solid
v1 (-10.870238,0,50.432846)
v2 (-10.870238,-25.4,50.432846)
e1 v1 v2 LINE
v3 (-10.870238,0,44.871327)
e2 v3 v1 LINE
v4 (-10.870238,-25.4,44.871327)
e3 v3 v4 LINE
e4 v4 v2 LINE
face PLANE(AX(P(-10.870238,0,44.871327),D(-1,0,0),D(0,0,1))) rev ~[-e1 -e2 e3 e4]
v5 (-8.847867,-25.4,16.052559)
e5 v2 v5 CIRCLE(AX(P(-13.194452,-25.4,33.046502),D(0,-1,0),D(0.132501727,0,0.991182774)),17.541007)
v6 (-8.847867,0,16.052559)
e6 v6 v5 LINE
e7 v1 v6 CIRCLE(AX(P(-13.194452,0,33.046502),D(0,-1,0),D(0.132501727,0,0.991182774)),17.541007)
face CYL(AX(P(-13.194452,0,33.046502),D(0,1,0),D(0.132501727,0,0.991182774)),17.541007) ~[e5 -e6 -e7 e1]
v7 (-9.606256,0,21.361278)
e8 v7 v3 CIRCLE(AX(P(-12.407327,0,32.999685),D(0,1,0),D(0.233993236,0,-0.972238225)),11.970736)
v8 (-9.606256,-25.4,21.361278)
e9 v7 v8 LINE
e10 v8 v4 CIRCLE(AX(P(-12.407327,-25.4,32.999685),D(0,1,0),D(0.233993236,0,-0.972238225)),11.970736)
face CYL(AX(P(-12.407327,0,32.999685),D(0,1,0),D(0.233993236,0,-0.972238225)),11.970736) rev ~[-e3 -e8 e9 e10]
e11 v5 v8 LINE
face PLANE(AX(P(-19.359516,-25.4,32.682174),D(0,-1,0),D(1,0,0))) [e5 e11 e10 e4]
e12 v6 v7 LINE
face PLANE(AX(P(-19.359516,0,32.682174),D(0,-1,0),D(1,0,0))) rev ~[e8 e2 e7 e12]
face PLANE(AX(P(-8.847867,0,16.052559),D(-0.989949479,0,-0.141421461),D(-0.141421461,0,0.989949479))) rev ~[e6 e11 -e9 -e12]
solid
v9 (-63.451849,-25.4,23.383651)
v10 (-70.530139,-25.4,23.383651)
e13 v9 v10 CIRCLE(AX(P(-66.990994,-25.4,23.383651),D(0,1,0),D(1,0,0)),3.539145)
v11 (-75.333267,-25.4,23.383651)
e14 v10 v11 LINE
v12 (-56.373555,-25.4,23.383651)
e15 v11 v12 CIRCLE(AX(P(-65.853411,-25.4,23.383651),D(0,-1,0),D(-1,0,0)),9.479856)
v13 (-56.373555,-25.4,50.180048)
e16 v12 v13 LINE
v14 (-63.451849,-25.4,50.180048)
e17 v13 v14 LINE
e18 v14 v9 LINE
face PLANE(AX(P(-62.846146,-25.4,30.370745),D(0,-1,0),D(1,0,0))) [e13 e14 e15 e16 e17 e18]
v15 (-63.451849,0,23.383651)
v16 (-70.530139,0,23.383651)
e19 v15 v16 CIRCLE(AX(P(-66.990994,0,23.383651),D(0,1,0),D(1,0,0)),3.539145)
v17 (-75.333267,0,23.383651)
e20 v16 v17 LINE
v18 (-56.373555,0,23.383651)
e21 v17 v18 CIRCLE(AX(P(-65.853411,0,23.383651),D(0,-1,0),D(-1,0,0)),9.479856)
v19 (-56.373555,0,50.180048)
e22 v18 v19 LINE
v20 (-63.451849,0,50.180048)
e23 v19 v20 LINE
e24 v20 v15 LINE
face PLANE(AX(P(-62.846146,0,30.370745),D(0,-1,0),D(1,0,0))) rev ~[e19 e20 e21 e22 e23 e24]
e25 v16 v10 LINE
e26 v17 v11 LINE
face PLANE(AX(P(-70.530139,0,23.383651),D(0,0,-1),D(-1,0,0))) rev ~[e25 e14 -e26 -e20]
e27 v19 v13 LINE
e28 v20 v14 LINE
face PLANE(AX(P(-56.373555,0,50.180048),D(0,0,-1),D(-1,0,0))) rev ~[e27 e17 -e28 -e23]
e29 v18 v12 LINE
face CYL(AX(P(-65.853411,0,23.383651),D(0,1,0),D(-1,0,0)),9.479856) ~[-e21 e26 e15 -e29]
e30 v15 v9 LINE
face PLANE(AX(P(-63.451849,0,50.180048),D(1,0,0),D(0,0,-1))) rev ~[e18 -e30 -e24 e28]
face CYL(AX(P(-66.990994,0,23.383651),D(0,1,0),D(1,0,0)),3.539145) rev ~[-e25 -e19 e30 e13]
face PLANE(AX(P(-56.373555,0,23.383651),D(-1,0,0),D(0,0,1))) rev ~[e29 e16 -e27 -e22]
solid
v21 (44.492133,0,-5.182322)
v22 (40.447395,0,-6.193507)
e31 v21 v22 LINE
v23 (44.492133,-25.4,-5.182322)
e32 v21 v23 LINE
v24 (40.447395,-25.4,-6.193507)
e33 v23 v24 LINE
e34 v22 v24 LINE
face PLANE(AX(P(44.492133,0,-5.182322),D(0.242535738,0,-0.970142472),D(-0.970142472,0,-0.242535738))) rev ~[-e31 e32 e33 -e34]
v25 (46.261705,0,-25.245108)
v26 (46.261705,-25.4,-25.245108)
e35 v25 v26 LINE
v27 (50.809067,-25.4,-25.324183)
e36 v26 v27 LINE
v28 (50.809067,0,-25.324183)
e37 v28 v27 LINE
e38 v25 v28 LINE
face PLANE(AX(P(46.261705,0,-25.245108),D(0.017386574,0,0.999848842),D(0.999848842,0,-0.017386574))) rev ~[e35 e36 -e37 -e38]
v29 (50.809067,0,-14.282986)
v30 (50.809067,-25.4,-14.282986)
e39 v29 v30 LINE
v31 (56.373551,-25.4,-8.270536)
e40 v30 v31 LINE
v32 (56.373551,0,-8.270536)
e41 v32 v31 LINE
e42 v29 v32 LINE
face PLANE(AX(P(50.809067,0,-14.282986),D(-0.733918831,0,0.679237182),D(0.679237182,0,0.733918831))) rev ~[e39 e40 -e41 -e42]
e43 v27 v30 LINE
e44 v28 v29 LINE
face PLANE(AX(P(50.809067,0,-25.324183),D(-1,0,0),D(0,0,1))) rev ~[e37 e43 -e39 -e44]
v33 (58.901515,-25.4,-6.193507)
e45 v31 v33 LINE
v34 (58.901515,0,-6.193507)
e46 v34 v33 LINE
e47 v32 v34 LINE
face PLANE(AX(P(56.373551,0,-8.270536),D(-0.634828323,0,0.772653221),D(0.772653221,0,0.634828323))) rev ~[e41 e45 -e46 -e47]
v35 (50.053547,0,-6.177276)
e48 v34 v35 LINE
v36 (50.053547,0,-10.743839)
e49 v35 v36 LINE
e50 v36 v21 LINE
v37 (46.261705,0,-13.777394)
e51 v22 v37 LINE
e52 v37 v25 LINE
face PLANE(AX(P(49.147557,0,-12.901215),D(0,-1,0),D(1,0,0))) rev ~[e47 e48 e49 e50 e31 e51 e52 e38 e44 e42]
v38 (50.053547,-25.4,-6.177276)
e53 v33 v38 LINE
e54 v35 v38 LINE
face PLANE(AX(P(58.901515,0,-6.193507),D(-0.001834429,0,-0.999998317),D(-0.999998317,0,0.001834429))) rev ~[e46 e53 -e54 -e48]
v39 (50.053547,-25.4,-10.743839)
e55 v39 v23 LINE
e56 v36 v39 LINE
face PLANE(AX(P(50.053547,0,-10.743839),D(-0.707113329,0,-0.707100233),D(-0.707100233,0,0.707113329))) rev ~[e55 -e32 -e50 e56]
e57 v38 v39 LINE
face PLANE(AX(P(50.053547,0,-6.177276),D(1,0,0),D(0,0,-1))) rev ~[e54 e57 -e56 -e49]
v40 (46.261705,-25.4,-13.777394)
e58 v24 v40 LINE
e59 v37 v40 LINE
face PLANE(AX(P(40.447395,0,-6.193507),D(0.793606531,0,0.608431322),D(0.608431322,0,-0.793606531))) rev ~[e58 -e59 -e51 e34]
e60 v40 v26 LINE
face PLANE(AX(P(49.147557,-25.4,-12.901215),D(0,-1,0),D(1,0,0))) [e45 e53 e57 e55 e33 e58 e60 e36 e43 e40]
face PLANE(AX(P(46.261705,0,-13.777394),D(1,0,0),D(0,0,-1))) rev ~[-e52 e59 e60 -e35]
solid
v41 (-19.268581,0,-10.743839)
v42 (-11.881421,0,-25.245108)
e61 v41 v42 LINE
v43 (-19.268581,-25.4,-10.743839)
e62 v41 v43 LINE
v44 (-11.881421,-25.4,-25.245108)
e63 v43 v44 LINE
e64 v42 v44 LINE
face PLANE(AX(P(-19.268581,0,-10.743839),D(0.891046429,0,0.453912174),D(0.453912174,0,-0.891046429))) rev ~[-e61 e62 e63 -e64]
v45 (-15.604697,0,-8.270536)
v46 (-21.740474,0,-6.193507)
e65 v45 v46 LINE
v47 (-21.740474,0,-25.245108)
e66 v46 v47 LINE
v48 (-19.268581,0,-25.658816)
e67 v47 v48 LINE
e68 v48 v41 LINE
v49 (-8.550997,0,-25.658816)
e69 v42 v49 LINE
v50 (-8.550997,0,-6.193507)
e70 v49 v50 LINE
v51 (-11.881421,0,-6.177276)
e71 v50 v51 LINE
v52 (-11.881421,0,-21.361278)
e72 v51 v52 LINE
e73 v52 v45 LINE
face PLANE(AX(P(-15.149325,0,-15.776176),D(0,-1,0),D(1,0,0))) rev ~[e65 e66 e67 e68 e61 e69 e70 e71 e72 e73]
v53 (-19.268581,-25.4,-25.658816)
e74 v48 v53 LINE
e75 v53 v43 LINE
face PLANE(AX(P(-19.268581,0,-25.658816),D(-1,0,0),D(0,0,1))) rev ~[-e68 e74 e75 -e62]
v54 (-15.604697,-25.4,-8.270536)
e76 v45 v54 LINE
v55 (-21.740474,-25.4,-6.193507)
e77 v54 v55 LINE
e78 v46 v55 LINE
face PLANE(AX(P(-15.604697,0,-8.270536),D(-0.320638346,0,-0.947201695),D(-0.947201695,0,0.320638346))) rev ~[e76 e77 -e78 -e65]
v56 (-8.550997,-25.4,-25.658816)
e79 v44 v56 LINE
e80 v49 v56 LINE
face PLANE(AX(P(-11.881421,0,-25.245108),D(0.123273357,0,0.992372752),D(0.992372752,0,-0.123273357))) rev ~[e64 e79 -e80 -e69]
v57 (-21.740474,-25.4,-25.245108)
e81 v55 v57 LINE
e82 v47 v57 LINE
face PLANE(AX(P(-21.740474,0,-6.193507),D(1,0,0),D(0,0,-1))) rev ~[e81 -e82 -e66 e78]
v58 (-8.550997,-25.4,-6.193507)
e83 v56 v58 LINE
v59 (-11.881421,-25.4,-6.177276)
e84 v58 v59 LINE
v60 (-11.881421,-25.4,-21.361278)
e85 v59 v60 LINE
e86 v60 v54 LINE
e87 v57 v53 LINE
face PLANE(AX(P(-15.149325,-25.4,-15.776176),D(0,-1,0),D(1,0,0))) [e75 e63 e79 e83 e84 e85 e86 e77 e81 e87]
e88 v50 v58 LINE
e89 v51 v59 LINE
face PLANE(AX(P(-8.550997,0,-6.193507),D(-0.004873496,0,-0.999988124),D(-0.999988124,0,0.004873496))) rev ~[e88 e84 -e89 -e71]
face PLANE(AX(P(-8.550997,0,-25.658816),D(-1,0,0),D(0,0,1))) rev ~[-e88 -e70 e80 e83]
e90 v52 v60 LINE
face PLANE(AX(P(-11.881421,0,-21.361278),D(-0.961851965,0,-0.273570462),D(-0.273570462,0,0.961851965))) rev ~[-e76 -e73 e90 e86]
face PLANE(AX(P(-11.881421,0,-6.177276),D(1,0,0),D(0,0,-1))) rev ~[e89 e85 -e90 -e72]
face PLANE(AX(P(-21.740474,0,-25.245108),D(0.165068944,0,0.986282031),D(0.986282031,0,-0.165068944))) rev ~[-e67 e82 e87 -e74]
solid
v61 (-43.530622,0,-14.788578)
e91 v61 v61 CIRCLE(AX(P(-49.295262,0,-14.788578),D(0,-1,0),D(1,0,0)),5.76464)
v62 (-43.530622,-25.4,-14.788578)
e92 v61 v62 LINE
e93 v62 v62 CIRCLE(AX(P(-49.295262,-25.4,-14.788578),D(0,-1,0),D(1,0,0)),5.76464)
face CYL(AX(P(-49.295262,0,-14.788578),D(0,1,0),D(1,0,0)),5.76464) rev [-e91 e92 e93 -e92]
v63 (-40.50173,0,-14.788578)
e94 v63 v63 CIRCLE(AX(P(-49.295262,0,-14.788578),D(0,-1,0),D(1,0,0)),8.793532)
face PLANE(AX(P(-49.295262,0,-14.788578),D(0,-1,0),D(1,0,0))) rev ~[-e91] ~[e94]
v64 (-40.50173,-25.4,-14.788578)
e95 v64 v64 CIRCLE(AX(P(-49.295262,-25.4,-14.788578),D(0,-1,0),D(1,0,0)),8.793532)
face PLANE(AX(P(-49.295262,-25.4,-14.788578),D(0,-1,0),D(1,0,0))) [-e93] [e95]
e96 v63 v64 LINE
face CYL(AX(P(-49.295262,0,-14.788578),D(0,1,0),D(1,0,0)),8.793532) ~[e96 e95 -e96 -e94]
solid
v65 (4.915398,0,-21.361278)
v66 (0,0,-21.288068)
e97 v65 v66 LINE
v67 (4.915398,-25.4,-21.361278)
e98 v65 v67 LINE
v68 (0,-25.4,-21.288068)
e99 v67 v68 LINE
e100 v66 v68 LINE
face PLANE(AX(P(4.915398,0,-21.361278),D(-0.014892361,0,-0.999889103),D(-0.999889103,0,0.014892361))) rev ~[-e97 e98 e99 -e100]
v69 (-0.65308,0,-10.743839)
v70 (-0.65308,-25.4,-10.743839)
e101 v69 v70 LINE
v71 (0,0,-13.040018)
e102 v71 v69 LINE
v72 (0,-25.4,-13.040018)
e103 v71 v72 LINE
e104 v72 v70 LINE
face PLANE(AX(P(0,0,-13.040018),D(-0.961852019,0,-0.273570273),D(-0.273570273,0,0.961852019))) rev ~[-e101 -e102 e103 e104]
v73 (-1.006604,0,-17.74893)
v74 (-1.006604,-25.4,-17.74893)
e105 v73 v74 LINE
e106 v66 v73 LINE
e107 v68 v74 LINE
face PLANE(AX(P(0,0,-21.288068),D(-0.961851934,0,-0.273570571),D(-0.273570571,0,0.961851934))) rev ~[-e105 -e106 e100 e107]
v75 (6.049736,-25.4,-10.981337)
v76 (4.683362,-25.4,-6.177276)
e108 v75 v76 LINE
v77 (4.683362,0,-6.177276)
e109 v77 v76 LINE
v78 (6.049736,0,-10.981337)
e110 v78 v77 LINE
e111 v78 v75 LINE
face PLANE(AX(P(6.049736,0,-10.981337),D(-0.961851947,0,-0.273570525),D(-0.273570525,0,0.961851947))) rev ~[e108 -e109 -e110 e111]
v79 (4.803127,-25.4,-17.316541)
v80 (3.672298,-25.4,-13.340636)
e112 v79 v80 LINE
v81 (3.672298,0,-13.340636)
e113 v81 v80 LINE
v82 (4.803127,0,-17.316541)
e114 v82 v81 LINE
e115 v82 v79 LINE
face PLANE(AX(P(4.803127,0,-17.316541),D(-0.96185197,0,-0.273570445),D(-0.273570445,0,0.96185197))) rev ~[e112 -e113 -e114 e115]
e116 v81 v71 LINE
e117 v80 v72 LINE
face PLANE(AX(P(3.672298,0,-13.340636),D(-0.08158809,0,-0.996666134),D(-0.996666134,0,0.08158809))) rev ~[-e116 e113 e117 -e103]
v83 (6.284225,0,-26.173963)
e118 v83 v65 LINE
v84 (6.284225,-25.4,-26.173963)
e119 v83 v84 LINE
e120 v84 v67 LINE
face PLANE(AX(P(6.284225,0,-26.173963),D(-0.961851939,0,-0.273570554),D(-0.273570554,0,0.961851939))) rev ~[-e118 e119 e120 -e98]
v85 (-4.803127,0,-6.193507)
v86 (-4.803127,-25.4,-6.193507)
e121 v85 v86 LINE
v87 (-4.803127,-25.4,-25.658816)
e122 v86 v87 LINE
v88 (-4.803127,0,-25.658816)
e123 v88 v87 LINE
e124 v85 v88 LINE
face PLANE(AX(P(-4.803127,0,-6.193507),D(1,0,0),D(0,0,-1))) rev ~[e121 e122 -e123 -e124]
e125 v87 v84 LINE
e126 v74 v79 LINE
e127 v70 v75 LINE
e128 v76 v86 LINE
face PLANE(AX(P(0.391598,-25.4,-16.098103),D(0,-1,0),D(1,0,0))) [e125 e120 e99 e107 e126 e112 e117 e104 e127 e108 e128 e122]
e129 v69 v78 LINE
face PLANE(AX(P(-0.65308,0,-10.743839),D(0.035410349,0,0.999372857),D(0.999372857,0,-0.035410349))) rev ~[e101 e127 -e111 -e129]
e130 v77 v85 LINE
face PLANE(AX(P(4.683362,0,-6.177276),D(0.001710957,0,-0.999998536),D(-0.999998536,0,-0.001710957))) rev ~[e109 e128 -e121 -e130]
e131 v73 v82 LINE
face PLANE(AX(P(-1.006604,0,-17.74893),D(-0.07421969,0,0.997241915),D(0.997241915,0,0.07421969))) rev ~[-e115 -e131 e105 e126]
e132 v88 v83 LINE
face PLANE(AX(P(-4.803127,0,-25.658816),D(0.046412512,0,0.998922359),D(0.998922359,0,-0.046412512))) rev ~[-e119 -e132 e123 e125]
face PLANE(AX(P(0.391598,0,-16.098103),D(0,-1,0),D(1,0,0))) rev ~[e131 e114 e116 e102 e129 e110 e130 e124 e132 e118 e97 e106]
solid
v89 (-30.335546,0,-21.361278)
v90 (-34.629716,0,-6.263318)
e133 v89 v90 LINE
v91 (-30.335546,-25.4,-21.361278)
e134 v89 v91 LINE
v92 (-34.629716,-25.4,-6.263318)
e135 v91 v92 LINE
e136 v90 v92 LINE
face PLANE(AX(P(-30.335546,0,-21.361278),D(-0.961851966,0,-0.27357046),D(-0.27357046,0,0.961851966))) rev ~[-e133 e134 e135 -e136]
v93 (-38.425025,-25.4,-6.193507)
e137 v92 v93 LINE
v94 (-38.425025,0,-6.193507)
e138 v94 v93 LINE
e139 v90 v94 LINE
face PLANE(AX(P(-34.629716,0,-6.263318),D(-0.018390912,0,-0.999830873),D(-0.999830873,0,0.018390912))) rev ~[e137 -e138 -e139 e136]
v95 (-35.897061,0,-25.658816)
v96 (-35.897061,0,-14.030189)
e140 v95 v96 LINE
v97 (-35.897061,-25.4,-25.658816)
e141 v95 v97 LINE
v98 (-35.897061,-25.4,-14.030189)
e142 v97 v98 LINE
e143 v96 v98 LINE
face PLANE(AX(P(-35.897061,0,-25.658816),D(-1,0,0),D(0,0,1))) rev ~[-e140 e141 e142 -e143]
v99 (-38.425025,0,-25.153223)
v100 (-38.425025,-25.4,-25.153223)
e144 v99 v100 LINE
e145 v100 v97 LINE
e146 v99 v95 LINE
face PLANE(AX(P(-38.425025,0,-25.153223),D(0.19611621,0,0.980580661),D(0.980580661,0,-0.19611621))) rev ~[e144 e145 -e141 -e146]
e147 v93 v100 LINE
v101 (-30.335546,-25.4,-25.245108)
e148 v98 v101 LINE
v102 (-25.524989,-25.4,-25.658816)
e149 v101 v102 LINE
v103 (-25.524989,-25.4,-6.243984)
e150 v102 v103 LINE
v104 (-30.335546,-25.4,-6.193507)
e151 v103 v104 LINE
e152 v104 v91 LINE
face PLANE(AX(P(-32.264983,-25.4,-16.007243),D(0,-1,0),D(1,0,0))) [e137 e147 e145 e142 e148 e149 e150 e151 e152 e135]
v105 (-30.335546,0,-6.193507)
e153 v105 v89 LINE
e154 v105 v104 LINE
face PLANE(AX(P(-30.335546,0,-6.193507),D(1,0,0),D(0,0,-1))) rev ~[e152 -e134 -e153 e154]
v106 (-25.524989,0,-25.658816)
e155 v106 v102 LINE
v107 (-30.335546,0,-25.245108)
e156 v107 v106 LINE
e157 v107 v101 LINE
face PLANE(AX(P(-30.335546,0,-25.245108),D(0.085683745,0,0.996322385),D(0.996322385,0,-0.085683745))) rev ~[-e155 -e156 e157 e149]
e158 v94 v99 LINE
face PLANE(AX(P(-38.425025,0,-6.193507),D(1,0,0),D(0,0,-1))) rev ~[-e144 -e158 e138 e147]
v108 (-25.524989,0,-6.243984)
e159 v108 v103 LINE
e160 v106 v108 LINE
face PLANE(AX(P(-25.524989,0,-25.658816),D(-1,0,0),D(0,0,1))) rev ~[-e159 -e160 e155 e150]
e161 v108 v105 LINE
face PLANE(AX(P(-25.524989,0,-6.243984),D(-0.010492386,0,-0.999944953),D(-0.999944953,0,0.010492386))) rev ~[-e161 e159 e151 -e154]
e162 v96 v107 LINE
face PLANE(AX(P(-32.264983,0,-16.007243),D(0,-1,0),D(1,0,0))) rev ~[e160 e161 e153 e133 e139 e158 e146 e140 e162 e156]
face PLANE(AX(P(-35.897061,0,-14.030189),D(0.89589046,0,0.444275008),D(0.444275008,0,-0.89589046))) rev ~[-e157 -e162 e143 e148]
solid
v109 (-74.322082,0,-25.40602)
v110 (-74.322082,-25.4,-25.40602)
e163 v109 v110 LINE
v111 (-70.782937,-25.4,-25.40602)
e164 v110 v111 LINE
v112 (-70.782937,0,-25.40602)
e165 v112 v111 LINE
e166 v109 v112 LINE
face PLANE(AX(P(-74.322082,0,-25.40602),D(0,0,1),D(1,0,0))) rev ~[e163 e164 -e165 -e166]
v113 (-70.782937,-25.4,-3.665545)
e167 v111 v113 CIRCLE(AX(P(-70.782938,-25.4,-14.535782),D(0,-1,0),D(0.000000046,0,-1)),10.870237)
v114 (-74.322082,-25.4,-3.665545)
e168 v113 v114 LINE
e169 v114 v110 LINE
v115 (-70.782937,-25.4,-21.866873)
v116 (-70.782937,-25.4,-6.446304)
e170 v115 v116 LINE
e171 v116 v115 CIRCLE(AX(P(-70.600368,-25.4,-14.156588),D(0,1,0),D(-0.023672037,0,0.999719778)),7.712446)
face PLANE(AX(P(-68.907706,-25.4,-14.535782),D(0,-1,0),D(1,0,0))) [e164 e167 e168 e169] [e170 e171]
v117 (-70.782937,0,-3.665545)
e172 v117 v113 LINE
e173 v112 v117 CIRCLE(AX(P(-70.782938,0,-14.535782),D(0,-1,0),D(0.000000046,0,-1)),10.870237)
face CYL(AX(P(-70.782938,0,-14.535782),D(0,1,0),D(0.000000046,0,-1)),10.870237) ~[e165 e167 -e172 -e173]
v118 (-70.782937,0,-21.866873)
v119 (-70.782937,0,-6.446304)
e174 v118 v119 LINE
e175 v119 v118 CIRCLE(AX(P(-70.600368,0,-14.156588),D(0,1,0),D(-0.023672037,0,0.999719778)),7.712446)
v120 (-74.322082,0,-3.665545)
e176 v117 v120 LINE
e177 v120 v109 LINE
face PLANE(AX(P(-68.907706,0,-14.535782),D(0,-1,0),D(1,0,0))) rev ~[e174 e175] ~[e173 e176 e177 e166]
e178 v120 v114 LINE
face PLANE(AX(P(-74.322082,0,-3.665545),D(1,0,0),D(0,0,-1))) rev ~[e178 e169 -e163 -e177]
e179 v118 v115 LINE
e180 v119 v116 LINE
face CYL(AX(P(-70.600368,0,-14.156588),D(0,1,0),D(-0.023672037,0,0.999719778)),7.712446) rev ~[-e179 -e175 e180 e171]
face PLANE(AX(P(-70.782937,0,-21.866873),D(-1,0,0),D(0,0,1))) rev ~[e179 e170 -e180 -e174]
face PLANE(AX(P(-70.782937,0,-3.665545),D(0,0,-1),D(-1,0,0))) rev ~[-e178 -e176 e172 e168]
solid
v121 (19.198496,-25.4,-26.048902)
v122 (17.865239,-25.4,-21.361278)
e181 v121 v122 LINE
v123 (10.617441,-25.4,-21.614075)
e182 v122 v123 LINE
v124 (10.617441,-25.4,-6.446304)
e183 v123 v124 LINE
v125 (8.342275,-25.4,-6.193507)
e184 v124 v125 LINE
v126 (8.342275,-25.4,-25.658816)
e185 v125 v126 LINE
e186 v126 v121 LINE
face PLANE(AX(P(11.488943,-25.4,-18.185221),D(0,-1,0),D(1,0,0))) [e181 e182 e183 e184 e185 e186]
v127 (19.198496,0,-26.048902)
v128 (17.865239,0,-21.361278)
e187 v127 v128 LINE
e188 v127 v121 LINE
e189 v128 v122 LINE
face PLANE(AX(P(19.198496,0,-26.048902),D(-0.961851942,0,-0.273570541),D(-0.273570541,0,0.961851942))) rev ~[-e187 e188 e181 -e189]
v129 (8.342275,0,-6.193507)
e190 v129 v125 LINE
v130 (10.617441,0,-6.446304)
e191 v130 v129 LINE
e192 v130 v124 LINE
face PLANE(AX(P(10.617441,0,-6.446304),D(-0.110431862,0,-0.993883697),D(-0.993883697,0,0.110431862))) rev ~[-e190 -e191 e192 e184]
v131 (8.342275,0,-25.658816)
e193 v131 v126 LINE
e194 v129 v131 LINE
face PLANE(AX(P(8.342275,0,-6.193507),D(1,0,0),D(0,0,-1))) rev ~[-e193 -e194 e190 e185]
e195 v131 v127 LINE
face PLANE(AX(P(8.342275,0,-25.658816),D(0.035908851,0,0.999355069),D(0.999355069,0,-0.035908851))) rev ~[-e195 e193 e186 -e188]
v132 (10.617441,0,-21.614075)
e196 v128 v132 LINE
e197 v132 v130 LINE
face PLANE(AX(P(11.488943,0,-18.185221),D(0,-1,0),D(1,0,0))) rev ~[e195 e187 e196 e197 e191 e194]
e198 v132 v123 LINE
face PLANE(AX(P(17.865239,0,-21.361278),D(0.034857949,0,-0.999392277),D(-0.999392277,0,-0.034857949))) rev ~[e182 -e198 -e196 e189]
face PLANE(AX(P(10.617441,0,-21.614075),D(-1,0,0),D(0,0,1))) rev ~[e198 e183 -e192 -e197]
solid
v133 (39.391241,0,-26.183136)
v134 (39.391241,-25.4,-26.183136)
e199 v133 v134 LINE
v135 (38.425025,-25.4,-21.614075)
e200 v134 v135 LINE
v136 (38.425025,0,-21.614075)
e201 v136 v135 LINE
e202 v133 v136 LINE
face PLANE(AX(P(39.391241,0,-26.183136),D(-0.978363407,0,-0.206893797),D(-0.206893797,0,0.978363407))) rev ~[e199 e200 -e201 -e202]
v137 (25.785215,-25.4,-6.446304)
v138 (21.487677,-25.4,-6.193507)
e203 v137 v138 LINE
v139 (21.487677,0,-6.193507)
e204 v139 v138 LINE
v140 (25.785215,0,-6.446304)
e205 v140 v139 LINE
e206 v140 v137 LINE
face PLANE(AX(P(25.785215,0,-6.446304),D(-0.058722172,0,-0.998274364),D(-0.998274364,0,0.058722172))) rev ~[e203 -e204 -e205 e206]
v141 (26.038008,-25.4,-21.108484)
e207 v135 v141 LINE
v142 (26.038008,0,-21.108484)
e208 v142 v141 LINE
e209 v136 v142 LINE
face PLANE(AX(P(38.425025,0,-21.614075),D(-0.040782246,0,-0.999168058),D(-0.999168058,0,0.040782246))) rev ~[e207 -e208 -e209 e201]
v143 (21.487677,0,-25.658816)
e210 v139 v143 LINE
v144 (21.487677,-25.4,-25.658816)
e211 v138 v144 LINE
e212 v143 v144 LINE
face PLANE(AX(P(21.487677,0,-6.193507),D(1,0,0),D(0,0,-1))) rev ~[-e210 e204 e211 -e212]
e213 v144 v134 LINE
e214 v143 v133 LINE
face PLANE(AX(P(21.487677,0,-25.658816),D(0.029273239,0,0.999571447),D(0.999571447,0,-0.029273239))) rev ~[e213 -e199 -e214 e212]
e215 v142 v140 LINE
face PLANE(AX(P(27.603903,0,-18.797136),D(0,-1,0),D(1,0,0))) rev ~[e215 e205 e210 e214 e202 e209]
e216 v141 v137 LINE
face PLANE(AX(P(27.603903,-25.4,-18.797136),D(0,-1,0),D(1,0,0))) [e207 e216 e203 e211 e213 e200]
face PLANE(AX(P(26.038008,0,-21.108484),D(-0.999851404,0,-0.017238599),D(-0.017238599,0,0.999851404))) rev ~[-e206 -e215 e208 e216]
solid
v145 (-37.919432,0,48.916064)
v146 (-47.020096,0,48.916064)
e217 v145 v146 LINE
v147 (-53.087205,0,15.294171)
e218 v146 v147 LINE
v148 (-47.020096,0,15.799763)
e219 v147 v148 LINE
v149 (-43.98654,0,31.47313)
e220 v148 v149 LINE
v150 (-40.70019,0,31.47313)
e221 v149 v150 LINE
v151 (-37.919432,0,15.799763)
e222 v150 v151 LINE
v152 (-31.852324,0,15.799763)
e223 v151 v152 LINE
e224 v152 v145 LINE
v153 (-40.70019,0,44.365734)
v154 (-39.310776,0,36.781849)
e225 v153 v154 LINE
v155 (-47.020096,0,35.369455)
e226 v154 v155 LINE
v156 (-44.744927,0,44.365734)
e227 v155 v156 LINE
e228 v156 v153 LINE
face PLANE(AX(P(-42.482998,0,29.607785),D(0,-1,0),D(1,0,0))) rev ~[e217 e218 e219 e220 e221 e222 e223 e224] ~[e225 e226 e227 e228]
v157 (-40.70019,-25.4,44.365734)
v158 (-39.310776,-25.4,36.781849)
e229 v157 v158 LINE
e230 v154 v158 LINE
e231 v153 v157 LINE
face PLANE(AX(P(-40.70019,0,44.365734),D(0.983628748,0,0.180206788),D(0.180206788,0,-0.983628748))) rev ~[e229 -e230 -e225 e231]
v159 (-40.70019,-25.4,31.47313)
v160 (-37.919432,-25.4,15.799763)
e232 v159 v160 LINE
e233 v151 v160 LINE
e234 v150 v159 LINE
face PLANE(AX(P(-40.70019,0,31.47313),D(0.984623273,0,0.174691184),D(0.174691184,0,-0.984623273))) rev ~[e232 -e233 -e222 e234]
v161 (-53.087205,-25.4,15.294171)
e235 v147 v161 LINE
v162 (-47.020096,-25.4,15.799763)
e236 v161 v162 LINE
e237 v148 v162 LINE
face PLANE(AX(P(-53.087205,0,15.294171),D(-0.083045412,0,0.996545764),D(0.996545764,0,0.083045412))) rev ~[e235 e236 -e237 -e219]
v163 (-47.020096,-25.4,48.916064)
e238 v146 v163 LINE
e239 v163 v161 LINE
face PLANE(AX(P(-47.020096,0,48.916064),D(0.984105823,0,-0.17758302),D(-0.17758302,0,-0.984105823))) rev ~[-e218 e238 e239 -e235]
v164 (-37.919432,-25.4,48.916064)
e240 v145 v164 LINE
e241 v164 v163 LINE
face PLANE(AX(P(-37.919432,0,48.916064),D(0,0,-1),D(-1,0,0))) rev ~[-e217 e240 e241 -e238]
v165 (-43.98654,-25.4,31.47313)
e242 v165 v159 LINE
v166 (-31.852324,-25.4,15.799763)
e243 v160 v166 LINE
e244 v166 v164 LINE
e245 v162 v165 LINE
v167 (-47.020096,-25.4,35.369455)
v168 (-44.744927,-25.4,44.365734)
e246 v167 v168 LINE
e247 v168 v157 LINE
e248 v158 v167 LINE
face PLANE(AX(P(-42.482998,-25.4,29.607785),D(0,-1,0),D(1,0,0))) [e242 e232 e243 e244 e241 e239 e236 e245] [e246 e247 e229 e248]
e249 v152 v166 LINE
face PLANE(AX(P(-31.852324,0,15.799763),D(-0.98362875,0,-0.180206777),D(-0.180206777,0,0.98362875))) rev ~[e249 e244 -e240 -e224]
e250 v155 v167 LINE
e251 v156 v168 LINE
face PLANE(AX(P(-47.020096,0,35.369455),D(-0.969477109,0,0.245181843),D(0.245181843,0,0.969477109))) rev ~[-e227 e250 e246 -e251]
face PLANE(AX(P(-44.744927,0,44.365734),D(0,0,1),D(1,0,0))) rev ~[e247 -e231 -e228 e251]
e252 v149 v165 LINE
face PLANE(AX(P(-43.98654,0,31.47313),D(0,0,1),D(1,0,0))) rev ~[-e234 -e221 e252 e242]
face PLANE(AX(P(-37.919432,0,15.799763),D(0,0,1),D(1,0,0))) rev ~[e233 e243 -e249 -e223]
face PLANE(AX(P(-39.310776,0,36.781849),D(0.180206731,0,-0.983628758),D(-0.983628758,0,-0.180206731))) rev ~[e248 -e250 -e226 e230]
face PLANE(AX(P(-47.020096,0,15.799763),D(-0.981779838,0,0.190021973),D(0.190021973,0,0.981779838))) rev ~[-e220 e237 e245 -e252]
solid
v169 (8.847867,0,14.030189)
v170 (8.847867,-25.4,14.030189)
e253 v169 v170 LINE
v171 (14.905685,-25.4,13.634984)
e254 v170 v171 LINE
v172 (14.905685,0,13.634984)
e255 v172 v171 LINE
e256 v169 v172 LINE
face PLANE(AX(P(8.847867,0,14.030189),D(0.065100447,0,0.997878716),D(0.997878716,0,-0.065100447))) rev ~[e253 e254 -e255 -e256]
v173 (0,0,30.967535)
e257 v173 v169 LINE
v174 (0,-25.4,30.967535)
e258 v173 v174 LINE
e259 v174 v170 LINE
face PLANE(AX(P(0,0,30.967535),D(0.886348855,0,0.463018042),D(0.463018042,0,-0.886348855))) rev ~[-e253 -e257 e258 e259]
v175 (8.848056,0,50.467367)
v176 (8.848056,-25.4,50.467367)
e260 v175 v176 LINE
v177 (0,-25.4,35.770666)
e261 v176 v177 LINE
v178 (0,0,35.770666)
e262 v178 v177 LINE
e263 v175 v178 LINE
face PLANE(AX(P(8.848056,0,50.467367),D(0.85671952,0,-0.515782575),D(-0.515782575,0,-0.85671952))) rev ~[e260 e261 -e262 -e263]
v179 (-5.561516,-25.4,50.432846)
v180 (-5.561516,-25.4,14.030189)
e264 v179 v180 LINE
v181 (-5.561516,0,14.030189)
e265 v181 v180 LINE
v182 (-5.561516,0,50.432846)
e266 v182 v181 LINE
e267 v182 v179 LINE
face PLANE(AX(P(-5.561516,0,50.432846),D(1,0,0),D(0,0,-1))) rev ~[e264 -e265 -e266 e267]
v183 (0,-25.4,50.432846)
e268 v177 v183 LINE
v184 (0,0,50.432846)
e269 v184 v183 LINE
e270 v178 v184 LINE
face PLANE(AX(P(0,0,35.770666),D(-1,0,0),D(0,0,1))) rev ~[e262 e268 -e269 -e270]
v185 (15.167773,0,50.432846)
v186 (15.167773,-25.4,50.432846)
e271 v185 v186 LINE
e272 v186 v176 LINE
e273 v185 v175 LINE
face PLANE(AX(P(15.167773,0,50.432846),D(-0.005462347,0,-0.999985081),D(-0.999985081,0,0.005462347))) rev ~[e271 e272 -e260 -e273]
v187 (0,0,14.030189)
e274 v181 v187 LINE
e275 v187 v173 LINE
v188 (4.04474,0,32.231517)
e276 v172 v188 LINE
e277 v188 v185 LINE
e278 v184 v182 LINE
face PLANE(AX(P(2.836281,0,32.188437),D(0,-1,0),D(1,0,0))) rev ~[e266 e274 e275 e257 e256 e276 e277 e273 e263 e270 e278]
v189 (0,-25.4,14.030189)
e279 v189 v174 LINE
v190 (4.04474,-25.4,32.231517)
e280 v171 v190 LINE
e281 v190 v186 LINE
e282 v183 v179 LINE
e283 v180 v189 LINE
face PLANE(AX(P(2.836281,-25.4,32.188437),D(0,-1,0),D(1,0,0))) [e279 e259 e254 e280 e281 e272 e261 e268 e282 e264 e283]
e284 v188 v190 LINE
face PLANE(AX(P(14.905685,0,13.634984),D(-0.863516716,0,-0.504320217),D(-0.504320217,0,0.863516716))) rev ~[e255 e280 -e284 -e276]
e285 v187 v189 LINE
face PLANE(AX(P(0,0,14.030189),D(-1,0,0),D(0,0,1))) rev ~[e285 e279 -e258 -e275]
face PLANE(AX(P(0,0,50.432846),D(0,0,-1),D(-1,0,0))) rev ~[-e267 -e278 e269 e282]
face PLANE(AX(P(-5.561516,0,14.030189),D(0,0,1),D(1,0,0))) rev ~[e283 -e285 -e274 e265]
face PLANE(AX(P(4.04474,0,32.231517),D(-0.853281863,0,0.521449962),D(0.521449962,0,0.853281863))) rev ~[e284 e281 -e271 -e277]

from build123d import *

# Parameters (mm, degrees)
F0_R     = 8.793532
F0_R_2   = 5.76464
F1_DEPTH = 25.4


with BuildPart() as f1:
    # F0 (on Front) → F1 (new body)
    with BuildSketch(Plane.XZ):
        with BuildLine():
            Line((-56.373555, 50.180048), (-63.451849, 50.180048))
            Line((-63.451849, 50.180048), (-63.451849, 23.383651))
            ThreePointArc((-63.451849, 23.383651), (-66.990994, 19.844506), (-70.530139, 23.383651))
            Line((-70.530139, 23.383651), (-75.333267, 23.383651))
            ThreePointArc((-75.333267, 23.383651), (-65.853411, 13.903795), (-56.373555, 23.383651))
            Line((-56.373555, 23.383651), (-56.373555, 50.180048))
        make_face()
        Polygon((-47.020096, 48.916064), (-53.087205, 15.294171), (-47.020096, 15.799763), (-43.98654, 31.47313), (-40.70019, 31.47313), (-37.919432, 15.799763), (-31.852324, 15.799763), (-37.919432, 48.916064), align=None)
        Polygon((-47.020096, 35.369455), (-44.744927, 44.365734), (-40.70019, 44.365734), (-39.310776, 36.781849), align=None, mode=Mode.SUBTRACT)
        with BuildLine():
            Line((-10.870238, 44.871327), (-10.870238, 50.432846))
            ThreePointArc((-10.870238, 50.432846), (-30.705189, 32.016459), (-8.847867, 16.052559))
            Line((-8.847867, 16.052559), (-9.606256, 21.361278))
            ThreePointArc((-9.606256, 21.361278), (-24.3608, 32.357025), (-10.870238, 44.871327))
        make_face()
        Polygon((0, 50.432846), (-5.561516, 50.432846), (-5.561516, 14.030189), (0, 14.030189), (0, 30.967535), (8.847867, 14.030189), (14.905685, 13.634984), (4.04474, 32.231517), (15.167773, 50.432846), (8.848056, 50.467367), (0, 35.770666), align=None)
        with BuildLine():
            Line((-70.782937, -3.665545), (-74.322082, -3.665545))
            Line((-74.322082, -3.665545), (-74.322082, -25.40602))
            Line((-74.322082, -25.40602), (-70.782937, -25.40602))
            ThreePointArc((-70.782937, -25.40602), (-59.9127, -14.535782), (-70.782937, -3.665545))
        make_face()
        with BuildLine():
            Line((-70.782937, -21.866873), (-70.782937, -6.446304))
            ThreePointArc((-70.782937, -6.446304), (-62.887922, -14.156588), (-70.782937, -21.866873))
        make_face(mode=Mode.SUBTRACT)
        with Locations((-49.295262, -14.788578)):
            Circle(F0_R)
        with Locations((-49.295262, -14.788578)):
            Circle(F0_R_2, mode=Mode.SUBTRACT)
        Polygon((-38.425025, -6.193507), (-38.425025, -25.153223), (-35.897061, -25.658816), (-35.897061, -14.030189), (-30.335546, -25.245108), (-25.524989, -25.658816), (-25.524989, -6.243984), (-30.335546, -6.193507), (-30.335546, -21.361278), (-34.629716, -6.263318), align=None)
        Polygon((-15.604697, -8.270536), (-21.740474, -6.193507), (-21.740474, -25.245108), (-19.268581, -25.658816), (-19.268581, -10.743839), (-11.881421, -25.245108), (-8.550997, -25.658816), (-8.550997, -6.193507), (-11.881421, -6.177276), (-11.881421, -21.361278), align=None)
        Polygon((4.683362, -6.177276), (-4.803127, -6.193507), (-4.803127, -25.658816), (6.284225, -26.173963), (4.915398, -21.361278), (0, -21.288068), (-1.006604, -17.74893), (4.803127, -17.316541), (3.672298, -13.340636), (0, -13.040018), (-0.65308, -10.743839), (6.049736, -10.981337), align=None)
        Polygon((10.617441, -6.446304), (8.342275, -6.193507), (8.342275, -25.658816), (19.198496, -26.048902), (17.865239, -21.361278), (10.617441, -21.614075), align=None)
        Polygon((25.785215, -6.446304), (21.487677, -6.193507), (21.487677, -25.658816), (39.391241, -26.183136), (38.425025, -21.614075), (26.038008, -21.108484), align=None)
        Polygon((44.492133, -5.182322), (40.447395, -6.193507), (46.261705, -13.777394), (46.261705, -25.245108), (50.809067, -25.324183), (50.809067, -14.282986), (56.373551, -8.270536), (58.901515, -6.193507), (50.053547, -6.177276), (50.053547, -10.743839), align=None)
    extrude(amount=F1_DEPTH)


solid = f1.part
